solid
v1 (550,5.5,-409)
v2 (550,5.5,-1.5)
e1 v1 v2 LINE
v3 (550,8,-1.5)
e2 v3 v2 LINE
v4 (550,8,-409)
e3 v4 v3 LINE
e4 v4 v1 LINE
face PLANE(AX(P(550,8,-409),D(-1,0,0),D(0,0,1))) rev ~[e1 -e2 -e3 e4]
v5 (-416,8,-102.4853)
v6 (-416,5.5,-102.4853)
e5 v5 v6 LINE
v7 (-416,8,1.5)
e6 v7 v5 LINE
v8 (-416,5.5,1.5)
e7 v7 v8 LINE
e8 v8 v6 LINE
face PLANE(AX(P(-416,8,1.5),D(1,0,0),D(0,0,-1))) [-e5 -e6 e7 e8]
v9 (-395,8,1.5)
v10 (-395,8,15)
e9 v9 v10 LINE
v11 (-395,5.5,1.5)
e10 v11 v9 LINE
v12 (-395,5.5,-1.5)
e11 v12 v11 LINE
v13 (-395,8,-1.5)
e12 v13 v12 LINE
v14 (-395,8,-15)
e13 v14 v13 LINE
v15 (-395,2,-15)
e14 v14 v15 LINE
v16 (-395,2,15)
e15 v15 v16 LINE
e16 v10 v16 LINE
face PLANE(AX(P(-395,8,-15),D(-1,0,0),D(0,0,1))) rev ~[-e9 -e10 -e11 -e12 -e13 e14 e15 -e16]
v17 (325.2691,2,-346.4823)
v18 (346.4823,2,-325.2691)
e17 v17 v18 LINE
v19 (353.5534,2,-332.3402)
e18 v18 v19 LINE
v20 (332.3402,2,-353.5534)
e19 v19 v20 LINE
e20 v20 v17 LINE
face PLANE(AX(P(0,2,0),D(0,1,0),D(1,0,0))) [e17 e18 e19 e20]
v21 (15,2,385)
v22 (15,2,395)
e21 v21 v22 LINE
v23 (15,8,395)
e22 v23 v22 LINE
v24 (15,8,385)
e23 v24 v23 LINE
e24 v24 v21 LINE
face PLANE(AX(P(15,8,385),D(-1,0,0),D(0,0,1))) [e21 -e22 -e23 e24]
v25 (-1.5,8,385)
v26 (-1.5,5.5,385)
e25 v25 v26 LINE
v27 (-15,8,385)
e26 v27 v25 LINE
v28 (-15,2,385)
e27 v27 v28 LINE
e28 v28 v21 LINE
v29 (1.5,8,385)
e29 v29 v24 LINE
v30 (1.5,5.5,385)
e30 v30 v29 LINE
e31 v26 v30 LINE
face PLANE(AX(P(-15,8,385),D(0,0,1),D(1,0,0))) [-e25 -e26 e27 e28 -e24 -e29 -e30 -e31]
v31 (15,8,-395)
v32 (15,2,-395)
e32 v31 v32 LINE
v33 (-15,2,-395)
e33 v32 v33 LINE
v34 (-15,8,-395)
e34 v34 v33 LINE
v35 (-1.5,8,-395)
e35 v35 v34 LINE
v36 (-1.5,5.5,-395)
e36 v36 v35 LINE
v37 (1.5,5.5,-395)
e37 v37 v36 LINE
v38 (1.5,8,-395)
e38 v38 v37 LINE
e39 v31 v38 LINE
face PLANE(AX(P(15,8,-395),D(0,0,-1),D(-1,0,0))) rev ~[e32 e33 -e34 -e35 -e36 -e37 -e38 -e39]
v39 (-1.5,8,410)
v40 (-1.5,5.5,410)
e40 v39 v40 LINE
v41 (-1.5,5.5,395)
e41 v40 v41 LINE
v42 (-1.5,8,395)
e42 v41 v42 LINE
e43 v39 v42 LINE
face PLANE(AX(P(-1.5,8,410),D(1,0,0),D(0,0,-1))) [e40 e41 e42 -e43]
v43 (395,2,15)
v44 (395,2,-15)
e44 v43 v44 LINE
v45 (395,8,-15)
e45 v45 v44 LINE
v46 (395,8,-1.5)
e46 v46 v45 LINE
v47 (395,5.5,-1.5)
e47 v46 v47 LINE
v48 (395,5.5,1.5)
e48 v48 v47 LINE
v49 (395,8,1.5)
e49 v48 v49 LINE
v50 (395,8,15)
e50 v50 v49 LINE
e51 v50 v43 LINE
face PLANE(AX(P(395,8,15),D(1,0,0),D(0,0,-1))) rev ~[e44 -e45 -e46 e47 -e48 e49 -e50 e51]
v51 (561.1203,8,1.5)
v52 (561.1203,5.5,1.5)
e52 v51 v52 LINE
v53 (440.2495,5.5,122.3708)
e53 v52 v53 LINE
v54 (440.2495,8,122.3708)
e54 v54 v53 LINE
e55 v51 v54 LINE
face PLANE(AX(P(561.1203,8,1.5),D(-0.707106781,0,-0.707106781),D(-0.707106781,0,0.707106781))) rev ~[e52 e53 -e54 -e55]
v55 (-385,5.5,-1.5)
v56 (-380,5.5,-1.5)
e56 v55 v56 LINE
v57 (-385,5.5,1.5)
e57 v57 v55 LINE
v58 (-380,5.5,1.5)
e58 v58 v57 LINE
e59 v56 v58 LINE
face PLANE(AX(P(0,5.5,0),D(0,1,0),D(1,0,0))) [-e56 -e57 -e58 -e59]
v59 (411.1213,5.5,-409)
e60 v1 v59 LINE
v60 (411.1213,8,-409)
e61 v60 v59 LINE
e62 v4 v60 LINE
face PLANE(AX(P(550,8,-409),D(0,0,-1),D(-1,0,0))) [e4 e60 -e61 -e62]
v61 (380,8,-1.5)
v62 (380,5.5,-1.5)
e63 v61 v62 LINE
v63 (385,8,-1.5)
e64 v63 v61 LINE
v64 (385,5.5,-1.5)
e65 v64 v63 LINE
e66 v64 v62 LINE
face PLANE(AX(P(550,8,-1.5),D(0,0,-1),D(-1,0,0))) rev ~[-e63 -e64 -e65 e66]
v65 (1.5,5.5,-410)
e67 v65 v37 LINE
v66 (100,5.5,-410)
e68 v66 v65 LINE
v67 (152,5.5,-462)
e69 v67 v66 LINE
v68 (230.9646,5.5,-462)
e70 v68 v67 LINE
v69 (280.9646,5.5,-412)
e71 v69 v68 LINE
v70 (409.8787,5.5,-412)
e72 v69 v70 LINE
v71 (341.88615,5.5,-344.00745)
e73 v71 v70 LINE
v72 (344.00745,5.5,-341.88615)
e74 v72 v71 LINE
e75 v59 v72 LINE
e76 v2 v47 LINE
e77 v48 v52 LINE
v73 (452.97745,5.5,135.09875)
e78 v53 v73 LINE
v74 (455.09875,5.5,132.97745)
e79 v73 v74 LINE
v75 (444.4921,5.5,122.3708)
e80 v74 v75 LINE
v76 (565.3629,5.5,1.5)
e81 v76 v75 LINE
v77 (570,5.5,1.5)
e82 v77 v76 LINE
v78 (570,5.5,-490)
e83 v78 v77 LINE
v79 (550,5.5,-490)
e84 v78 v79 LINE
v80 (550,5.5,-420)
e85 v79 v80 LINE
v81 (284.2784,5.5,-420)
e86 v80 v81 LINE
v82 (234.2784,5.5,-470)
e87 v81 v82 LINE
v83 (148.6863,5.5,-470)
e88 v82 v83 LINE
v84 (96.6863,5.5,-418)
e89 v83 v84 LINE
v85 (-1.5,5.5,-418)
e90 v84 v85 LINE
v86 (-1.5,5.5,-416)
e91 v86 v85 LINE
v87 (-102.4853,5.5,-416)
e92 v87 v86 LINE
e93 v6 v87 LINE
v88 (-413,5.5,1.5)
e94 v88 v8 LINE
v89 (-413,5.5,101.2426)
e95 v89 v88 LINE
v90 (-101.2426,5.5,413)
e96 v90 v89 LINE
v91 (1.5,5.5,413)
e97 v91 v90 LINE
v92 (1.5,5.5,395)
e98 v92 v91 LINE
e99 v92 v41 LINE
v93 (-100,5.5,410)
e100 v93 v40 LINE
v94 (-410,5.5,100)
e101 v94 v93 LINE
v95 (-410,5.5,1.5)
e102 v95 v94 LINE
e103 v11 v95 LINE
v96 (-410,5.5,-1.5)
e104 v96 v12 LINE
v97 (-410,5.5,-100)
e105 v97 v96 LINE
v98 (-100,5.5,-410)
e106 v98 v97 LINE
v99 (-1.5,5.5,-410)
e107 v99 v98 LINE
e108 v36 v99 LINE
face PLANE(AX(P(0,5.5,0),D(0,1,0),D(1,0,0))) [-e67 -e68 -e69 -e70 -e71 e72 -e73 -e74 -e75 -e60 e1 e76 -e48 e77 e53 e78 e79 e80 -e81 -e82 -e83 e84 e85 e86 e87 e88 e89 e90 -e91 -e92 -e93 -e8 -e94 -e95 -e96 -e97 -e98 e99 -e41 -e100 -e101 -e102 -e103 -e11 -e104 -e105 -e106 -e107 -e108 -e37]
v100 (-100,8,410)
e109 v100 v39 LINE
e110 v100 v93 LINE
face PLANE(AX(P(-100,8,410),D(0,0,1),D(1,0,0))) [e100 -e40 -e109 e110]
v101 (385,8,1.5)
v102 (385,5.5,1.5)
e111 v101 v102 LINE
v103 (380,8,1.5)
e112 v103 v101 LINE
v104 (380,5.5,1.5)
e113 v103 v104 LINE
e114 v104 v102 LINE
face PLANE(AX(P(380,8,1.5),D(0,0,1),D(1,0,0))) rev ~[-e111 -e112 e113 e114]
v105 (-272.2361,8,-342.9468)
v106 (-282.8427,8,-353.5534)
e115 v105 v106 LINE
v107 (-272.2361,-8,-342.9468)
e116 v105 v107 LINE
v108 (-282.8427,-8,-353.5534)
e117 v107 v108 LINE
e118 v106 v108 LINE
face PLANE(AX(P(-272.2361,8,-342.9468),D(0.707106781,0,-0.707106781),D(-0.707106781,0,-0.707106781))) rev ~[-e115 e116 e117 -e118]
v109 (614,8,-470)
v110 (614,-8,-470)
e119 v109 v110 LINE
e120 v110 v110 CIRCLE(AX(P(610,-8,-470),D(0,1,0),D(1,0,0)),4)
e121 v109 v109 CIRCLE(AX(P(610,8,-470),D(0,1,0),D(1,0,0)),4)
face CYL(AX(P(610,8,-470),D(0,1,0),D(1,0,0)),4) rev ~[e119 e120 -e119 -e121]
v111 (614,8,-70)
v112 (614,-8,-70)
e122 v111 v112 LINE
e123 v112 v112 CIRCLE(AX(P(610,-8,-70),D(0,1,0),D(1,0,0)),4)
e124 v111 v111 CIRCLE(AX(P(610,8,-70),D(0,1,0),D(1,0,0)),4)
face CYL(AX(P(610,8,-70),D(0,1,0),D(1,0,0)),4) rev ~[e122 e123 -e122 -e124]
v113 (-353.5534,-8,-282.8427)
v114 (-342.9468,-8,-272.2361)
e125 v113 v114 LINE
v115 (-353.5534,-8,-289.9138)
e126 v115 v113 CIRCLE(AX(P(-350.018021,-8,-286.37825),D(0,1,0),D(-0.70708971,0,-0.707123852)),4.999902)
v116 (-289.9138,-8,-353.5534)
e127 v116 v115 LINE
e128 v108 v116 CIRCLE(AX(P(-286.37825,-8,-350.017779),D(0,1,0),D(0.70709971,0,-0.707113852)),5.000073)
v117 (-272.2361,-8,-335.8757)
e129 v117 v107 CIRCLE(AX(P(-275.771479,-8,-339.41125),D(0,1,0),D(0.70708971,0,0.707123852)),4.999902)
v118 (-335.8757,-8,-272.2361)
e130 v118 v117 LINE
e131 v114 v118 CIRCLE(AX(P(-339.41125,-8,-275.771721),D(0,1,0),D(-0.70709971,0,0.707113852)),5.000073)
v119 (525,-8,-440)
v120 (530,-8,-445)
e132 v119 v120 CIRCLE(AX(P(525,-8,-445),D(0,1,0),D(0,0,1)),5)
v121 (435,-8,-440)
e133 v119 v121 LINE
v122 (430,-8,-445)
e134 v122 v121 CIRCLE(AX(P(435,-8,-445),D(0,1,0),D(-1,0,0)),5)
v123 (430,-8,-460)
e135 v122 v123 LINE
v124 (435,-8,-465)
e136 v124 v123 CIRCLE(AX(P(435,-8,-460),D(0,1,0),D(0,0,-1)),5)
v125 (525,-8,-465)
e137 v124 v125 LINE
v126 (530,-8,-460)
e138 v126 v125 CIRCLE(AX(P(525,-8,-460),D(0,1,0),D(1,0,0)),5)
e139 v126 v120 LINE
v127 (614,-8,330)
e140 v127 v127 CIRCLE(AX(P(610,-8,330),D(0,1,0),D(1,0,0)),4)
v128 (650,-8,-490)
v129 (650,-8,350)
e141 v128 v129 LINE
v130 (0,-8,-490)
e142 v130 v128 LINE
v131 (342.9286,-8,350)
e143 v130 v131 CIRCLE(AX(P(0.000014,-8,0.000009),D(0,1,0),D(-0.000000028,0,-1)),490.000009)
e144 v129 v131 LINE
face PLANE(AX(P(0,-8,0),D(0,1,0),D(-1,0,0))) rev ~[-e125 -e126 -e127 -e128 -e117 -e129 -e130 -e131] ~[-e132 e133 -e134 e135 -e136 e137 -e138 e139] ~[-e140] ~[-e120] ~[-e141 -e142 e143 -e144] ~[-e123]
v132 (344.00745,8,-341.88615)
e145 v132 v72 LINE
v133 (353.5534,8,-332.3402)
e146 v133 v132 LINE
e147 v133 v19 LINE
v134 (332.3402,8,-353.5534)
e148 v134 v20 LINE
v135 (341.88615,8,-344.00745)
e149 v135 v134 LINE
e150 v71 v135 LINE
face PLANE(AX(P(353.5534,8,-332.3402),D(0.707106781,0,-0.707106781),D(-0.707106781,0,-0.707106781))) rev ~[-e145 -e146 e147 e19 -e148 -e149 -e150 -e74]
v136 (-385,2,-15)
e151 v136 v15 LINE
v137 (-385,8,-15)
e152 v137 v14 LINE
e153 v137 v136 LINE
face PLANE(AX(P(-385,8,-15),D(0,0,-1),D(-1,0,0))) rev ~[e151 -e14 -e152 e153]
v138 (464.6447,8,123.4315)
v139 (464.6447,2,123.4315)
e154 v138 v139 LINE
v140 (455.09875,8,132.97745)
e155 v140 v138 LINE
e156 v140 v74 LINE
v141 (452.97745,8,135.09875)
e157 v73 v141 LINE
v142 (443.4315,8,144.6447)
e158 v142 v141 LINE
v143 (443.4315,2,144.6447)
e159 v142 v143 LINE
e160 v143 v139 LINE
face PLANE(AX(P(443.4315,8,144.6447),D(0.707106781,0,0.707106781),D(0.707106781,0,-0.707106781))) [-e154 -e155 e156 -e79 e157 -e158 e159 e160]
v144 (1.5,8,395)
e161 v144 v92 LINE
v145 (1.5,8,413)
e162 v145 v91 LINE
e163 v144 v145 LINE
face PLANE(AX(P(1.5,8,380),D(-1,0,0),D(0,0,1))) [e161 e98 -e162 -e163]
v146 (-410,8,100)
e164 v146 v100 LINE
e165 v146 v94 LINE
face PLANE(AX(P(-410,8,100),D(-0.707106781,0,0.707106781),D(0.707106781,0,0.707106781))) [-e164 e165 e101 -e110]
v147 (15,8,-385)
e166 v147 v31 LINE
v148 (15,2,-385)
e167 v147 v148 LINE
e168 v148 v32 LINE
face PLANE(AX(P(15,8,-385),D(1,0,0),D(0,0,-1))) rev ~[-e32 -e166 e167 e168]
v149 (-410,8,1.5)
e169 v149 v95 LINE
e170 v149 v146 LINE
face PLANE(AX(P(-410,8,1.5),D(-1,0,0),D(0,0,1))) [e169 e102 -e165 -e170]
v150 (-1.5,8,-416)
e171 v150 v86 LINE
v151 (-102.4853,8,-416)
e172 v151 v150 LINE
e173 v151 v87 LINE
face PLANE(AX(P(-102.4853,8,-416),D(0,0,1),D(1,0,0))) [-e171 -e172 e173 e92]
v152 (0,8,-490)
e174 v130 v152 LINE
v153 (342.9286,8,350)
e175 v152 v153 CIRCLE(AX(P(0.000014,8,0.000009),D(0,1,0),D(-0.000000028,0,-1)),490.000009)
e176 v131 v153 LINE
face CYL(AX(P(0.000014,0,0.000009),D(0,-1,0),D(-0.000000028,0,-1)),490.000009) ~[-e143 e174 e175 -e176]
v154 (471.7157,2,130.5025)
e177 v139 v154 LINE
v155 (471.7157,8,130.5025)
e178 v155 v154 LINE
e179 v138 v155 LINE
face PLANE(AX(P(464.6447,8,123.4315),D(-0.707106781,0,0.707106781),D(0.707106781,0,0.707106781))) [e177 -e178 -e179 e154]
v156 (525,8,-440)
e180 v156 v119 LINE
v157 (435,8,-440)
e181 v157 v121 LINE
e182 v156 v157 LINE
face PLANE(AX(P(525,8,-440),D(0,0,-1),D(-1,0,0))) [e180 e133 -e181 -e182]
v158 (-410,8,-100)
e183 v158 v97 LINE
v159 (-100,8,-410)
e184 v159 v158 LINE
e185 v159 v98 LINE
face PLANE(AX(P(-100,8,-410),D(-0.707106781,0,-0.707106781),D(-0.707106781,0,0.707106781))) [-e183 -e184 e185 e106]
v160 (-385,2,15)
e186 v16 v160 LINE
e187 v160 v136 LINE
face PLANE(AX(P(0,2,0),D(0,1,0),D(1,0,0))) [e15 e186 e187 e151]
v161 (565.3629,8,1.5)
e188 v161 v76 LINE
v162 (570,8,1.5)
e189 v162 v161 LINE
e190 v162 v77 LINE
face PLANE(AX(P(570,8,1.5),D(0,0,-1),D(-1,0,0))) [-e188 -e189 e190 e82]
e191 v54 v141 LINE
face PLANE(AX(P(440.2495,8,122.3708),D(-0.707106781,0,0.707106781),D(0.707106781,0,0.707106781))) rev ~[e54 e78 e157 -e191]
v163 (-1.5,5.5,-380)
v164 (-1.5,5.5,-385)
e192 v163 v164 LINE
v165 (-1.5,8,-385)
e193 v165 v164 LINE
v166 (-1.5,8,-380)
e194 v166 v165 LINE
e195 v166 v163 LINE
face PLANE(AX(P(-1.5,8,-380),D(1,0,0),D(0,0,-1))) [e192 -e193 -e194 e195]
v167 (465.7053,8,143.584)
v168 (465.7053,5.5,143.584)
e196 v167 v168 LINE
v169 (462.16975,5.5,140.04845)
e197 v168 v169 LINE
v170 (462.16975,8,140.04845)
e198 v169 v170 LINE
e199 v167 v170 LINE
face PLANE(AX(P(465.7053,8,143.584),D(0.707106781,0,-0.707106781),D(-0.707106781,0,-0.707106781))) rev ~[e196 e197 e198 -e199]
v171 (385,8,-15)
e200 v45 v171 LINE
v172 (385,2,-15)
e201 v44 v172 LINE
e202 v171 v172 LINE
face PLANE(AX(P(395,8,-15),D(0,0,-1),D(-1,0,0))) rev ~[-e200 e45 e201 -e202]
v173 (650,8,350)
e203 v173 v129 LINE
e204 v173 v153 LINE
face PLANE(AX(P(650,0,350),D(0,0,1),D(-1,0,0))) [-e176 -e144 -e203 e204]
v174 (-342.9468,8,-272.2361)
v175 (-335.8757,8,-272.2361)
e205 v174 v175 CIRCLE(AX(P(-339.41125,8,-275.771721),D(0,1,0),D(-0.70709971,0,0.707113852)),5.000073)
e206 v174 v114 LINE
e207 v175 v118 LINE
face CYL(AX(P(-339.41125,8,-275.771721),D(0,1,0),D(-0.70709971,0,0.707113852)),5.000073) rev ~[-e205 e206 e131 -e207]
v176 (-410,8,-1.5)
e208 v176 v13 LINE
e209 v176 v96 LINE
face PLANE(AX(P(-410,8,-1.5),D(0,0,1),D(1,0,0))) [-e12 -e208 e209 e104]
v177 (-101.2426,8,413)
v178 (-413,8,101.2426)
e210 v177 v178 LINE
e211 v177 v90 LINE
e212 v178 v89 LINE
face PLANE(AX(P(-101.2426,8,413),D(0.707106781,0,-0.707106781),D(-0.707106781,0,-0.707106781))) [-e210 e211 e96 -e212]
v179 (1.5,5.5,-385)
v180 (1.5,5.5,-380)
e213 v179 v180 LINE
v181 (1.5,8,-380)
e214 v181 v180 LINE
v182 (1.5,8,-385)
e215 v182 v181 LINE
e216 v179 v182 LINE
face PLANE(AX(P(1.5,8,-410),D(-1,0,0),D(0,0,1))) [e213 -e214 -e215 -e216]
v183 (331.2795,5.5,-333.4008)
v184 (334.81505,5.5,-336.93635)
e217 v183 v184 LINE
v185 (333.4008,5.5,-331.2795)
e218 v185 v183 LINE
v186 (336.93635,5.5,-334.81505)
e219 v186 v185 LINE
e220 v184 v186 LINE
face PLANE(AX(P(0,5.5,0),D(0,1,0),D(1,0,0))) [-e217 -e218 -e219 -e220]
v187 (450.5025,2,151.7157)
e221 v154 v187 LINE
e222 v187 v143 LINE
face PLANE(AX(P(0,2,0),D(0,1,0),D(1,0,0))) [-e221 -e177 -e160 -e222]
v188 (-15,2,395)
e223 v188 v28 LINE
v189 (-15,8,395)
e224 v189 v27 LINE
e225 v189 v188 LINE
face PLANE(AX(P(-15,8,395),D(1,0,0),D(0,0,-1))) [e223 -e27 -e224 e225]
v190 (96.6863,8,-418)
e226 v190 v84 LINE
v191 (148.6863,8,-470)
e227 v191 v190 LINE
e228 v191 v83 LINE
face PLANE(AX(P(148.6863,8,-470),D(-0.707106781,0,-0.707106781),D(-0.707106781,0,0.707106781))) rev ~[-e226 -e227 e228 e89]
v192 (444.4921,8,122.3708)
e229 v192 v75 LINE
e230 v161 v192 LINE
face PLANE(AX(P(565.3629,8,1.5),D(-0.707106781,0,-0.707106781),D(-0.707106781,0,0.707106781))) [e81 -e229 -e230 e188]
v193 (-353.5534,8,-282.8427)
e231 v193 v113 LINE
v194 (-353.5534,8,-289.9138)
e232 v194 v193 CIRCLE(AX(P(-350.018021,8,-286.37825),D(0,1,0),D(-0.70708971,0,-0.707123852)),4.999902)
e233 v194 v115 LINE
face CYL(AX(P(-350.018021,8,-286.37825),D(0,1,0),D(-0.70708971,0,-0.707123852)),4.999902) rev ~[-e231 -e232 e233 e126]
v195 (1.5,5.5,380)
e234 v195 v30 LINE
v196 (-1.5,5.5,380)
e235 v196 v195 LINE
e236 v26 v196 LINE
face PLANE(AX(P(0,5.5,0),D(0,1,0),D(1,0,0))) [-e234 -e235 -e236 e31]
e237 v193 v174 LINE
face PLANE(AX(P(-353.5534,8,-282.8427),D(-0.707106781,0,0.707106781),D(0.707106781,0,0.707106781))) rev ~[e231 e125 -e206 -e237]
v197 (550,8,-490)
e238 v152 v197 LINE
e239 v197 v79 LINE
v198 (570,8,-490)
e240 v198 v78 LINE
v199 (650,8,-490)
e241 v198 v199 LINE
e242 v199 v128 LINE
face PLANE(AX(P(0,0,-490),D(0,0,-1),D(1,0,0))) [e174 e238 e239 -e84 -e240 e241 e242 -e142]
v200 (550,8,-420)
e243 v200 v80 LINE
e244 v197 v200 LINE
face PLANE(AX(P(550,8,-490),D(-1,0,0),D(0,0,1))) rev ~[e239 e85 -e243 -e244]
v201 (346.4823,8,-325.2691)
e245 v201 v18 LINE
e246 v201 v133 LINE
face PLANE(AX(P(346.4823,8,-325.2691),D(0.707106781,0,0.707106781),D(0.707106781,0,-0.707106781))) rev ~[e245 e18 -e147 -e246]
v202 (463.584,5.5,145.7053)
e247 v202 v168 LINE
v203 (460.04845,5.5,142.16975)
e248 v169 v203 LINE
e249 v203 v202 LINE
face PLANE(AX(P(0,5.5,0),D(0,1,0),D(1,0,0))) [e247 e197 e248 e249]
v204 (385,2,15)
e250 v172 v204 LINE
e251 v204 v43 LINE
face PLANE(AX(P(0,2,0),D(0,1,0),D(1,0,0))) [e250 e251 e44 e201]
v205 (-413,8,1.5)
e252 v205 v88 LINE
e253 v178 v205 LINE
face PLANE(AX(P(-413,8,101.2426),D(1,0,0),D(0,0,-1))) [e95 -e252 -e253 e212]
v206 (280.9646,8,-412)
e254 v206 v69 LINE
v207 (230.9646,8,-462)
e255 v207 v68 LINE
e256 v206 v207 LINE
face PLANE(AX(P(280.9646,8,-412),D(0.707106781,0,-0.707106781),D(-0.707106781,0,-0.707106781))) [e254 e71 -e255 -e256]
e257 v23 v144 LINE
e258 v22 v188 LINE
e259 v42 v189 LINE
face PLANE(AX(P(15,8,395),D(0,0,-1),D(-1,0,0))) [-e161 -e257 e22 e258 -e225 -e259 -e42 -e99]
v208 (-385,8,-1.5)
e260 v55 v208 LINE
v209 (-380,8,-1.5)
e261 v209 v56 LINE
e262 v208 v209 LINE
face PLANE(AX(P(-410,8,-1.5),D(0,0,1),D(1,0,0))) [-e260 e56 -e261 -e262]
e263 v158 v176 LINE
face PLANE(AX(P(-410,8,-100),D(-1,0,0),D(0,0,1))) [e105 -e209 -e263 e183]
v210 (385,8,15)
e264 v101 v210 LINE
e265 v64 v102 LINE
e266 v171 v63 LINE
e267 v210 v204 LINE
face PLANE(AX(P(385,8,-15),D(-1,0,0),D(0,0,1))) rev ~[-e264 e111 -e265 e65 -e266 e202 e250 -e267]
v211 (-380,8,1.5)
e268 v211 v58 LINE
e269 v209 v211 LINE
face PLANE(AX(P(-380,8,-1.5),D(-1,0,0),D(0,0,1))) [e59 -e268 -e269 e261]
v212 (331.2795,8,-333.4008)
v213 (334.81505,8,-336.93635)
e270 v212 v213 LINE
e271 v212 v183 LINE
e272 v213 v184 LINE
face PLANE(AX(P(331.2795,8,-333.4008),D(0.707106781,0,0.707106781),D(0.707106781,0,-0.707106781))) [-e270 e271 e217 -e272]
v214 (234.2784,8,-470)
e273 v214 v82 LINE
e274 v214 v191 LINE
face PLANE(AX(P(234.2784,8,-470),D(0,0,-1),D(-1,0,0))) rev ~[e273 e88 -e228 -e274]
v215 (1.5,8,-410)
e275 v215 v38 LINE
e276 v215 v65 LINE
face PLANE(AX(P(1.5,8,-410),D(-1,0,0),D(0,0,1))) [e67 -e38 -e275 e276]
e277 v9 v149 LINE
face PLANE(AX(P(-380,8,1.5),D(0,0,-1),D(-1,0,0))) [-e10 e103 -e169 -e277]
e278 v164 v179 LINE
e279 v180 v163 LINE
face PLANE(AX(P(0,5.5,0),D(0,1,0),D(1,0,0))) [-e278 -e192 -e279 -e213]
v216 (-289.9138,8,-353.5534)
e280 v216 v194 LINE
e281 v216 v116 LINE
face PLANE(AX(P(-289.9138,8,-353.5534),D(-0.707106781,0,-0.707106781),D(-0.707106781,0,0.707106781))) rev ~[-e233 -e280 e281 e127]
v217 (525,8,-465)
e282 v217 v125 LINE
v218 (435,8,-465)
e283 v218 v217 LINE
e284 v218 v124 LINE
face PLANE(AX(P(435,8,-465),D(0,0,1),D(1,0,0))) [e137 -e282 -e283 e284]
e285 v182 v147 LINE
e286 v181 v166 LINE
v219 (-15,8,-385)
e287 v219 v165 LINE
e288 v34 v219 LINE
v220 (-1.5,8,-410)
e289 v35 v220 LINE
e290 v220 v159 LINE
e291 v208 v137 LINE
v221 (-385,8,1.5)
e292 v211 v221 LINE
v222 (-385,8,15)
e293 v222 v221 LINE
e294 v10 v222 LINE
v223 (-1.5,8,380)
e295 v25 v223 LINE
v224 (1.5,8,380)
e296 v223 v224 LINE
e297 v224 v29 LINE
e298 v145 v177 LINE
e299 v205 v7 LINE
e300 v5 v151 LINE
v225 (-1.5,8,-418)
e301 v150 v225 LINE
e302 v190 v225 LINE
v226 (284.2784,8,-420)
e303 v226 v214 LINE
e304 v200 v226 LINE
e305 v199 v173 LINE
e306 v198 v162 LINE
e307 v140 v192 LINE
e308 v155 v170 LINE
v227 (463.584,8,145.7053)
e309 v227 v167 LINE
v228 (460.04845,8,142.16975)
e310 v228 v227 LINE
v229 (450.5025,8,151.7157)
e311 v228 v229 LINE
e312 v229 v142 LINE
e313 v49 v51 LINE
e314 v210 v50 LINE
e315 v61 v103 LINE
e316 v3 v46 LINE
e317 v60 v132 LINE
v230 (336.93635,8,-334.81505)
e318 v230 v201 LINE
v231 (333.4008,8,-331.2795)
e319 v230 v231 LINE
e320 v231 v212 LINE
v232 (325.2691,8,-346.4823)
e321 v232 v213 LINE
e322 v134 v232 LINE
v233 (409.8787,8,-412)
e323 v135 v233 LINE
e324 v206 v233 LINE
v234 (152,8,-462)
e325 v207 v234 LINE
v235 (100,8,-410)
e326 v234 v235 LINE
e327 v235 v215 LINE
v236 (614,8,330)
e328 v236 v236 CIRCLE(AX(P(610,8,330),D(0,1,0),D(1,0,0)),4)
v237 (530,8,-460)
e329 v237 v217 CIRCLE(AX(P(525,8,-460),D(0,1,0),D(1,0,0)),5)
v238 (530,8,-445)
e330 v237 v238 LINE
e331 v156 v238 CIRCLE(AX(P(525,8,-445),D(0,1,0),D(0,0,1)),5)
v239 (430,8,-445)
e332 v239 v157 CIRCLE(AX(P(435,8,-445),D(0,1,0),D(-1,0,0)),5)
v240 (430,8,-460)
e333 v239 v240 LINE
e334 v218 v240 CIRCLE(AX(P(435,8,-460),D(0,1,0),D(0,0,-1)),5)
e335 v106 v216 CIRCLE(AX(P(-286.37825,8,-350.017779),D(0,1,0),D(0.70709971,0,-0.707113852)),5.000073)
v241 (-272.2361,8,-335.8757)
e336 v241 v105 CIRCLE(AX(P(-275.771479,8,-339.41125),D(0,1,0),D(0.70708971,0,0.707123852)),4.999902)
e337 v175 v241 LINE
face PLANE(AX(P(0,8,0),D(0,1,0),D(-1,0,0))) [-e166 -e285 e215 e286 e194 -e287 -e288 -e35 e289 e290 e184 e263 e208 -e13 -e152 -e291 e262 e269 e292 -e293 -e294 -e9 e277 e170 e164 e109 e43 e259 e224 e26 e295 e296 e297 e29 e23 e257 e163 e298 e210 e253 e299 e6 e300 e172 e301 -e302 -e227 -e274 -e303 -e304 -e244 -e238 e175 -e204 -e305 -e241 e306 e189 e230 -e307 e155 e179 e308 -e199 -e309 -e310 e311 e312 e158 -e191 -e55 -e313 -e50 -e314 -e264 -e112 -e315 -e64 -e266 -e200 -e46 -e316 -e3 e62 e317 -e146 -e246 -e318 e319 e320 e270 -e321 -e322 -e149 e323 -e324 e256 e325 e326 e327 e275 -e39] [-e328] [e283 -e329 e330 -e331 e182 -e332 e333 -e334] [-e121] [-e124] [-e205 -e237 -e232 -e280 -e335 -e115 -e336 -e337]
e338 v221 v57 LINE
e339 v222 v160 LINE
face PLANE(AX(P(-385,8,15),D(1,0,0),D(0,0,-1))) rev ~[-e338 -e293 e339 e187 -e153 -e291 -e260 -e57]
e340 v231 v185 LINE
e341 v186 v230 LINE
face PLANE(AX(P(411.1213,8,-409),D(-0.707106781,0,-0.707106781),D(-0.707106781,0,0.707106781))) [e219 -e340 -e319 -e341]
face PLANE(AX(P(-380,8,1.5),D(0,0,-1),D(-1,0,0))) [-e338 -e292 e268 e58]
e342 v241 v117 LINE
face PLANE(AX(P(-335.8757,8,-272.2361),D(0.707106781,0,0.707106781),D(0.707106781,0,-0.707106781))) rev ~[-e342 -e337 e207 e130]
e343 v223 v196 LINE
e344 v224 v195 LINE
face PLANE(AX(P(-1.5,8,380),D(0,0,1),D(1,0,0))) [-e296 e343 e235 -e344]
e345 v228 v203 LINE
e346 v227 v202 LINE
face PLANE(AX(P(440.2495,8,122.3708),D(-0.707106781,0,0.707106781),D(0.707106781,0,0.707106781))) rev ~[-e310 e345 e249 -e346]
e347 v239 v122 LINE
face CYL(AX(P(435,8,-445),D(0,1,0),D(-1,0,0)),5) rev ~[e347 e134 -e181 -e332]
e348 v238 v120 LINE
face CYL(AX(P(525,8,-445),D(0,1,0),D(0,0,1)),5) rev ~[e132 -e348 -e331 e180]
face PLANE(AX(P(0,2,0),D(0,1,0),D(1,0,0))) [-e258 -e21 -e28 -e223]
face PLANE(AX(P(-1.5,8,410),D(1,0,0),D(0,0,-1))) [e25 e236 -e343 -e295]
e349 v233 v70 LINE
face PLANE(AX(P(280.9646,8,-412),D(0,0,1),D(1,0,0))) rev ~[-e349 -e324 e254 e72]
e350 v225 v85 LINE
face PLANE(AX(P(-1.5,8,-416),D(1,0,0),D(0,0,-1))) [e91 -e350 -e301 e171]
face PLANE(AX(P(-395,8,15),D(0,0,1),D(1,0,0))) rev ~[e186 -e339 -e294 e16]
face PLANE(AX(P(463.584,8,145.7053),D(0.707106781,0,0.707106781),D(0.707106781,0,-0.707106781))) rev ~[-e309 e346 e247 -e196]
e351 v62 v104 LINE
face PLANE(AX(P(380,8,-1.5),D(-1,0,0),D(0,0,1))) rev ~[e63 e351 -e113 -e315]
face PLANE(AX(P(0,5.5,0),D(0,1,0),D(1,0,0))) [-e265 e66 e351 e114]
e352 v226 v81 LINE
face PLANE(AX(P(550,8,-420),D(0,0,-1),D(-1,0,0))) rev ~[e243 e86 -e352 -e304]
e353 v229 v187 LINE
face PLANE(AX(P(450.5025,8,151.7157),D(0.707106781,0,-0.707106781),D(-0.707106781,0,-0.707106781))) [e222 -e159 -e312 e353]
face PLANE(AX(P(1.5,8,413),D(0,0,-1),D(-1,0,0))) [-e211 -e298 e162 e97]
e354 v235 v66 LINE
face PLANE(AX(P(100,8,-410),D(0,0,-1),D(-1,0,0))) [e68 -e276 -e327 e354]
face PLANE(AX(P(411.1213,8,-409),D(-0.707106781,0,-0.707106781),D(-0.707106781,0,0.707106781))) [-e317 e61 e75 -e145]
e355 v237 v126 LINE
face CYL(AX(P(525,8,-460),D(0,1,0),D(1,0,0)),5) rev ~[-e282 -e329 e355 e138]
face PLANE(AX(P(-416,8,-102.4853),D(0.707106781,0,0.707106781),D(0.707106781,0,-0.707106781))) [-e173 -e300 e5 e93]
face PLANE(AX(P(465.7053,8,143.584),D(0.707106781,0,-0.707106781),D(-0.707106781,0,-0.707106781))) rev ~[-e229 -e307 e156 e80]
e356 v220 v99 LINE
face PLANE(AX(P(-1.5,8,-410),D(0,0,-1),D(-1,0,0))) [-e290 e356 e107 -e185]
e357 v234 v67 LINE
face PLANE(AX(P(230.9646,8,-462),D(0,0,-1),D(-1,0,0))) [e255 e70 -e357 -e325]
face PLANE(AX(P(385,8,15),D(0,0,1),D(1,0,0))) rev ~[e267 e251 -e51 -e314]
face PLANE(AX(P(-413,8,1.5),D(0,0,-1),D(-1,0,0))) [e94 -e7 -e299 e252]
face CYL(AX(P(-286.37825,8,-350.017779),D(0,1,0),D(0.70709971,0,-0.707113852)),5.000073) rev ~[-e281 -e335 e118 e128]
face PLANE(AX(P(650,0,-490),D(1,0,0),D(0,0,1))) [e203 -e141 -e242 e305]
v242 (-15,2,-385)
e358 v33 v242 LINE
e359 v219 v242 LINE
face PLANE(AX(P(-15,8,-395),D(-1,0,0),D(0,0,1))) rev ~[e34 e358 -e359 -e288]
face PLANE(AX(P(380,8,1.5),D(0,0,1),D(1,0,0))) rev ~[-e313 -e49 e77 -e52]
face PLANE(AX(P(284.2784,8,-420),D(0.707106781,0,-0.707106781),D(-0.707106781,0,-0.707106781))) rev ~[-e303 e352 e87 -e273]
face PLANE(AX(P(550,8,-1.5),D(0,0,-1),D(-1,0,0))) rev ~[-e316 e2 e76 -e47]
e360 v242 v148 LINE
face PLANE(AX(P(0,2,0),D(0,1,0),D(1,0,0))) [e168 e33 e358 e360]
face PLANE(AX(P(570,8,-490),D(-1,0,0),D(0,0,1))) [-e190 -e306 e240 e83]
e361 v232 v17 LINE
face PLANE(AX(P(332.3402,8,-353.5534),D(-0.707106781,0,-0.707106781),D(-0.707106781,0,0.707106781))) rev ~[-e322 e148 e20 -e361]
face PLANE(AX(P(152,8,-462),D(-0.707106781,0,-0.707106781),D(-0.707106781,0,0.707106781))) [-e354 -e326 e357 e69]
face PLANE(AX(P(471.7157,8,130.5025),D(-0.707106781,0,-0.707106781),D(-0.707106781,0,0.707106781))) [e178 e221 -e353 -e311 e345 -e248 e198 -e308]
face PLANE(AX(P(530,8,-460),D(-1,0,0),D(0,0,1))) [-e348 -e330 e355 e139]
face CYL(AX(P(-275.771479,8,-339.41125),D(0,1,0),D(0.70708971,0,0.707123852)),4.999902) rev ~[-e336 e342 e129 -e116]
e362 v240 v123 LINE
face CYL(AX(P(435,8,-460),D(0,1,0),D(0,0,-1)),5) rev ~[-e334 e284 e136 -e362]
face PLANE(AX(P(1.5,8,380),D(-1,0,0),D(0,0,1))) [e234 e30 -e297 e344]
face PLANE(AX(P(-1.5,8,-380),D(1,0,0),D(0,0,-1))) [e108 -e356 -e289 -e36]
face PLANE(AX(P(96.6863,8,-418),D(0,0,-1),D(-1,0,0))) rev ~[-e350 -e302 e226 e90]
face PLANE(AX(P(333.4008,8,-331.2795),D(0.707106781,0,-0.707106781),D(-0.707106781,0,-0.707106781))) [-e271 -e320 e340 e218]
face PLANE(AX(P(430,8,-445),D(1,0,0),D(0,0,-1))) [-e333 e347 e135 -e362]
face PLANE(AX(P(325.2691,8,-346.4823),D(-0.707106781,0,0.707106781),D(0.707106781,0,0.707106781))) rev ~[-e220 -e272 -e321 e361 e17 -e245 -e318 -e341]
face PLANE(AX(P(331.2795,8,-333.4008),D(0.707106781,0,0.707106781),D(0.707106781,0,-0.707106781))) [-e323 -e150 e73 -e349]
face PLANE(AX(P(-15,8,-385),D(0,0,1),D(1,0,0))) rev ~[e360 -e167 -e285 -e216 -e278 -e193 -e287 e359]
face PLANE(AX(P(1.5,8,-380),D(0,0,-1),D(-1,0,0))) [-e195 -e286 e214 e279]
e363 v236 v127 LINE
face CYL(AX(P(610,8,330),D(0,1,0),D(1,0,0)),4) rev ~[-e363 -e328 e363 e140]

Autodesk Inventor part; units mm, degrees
ref_plane "YZ Plane" through (0, 0, 0) normal (1, 0, 0) x (0, 1, 0)
ref_plane "XZ Plane" through (0, 0, 0) normal (0, 1, 0) x (-1, 0, 0)
ref_plane "XY Plane" through (0, 0, 0) normal (0, 0, 1) x (1, 0, 0)
sketch "Sketch1" plane through (0, 0, 0) normal (0, 1, 0) x (-1, 0, 0)
  arc A0 (0, -490) -> (-342.9286, 350) centre (0, 0) ccw
  line L0 (0, -490) -> (-650, -490)
  line L1 (-650, -490) -> (-650, 350)
  line L2 (-650, 350) -> (-342.9286, 350)
  dimension "d1" = 980
  dimension "d2" = 350
  dimension "d3" = 650
extrude "Extrusion1" add sketch "Sketch1" along normal mid plane 16
sketch "Sketch2" plane through (0, 8, 0) normal (0, 1, 0) x (1, 0, 0)
  arc A0 (0, 490) -> (342.9286, -350) centre (0, 0) ccw projected
  line L0 (650, -350) -> (650, 490) projected
  line L1 (650, 490) -> (0, 490) projected
  line L2 (435, 465) -> (525, 465)
  line L3 (530, 460) -> (530, 445)
  line L4 (525, 440) -> (435, 440)
  line L5 (430, 445) -> (430, 460)
  arc A1 (435, 465) -> (430, 460) centre (435, 460) ccw
  arc A2 (430, 445) -> (435, 440) centre (435, 445) ccw
  arc A3 (525, 440) -> (530, 445) centre (525, 445) ccw
  arc A4 (530, 460) -> (525, 465) centre (525, 460) ccw
  line L6 (0, 0) -> (-346.4823, 346.4823) construction
  line L7 (-289.9138, 353.5534) -> (-353.5534, 289.9138)
  line L8 (-353.5534, 282.8427) -> (-342.9468, 272.2361)
  line L9 (-335.8757, 272.2361) -> (-272.2361, 335.8757)
  line L10 (-272.2361, 342.9468) -> (-282.8427, 353.5534)
  arc A5 (-353.5534, 289.9138) -> (-353.5534, 282.8427) centre (-350.0179, 286.3782) ccw
  arc A6 (-342.9468, 272.2361) -> (-335.8757, 272.2361) centre (-339.4113, 275.7716) ccw
  arc A7 (-272.2361, 335.8757) -> (-272.2361, 342.9468) centre (-275.7716, 339.4113) ccw
  arc A8 (-282.8427, 353.5534) -> (-289.9138, 353.5534) centre (-286.3782, 350.0179) ccw
  point P0 (430, 465)
  point P1 (530, 465)
  point P2 (430, 440)
  dimension "d6" = 100
  dimension "d7" = 25
  dimension "d8" = 25
  dimension "d9" = 120
  dimension "d10" = 5
  dimension "d11" = 45
  dimension "d15" = 25
  dimension "d16" = 100
  dimension "d17" = 430
  dimension "d18" = 90
  dimension "d19" = 5
extrude "Extrusion2" cut sketch "Sketch2" against normal through all
sketch "Sketch3" plane through (0, 8, 0) normal (0, 1, 0) x (1, 0, 0)
  circle A0 centre (610, 470) radius 4
  circle A1 centre (610, -330) radius 4
  circle A2 centre (610, 70) radius 4
  circle A3 centre (610, 470) radius 2.75 projected
  circle A4 centre (610, 70) radius 2.75 projected
  circle A5 centre (610, -330) radius 2.75 projected
  dimension "d22" = 8
extrude "Extrusion3" cut sketch "Sketch3" against normal through all contours A0 | A1 | A2 | A3 | A4 | A5
ref_plane "Work Plane1" through (0, 0, 0) normal (-0.7071, 0, -0.7071) x (-0.7071, 0, 0.7071)
ref_plane "Work Plane2" through (500, 8, 350) normal (1, 0, 0) x (0, 0, -1)
ref_plane "Work Plane3" through (342.9286, 8, 180) normal (0, 0, 1) x (1, 0, 0)
sketch "Sketch5" plane through (0, 8, 0) normal (0, 1, 0) x (1, 0, 0)
  line L0 (530, 460) -> (530, 445) projected
  line L1 (525, 440) -> (435, 440) projected
  line L2 (-272.2361, 335.8757) -> (-335.8757, 272.2361) projected
  line L3 (650, 490) -> (0, 490) projected
  line L4 (570, 490) -> (570, -1.5)
  line L5 (570, -1.5) -> (565.3629, -1.5)
  line L6 (565.3629, -1.5) -> (444.4921, -122.3708)
  line L7 (75, 355) -> (-75, 355) construction
  line L8 (-75, 355) -> (-75, 205) construction
  line L9 (-75, 205) -> (75, 205) construction
  line L10 (75, 205) -> (75, 355) construction
  line L11 (197.9899, 304.0559) -> (304.0559, 197.9899) construction
  arc A0 (304.0559, 197.9899) -> (367.6955, 261.6295) centre (335.8757, 229.8097) ccw construction
  line L12 (367.6955, 261.6295) -> (261.6295, 367.6955) construction
  arc A1 (261.6295, 367.6955) -> (197.9899, 304.0559) centre (229.8097, 335.8757) ccw construction
  line L13 (-355, 75) -> (-355, -75) construction
  line L14 (-355, -75) -> (-205, -75) construction
  line L15 (-205, -75) -> (-205, 75) construction
  line L16 (-205, 75) -> (-355, 75) construction
  line L17 (355, -75) -> (355, 75) construction
  line L18 (355, 75) -> (205, 75) construction
  line L19 (205, 75) -> (205, -75) construction
  line L20 (205, -75) -> (355, -75) construction
  line L21 (-75, -355) -> (75, -355) construction
  line L22 (75, -355) -> (75, -205) construction
  line L23 (75, -205) -> (-75, -205) construction
  line L24 (-75, -205) -> (-75, -355) construction
  line L25 (485.8579, -229.4975) -> (549.4975, -165.8579) construction
  arc A2 (549.4975, -165.8579) -> (514.1421, -130.5025) centre (531.8198, -148.1802) ccw construction
  line L26 (514.1421, -130.5025) -> (450.5025, -194.1421) construction
  arc A3 (450.5025, -194.1421) -> (485.8579, -229.4975) centre (468.1802, -211.8198) ccw construction
  line L27 (205, 0) -> (355, 0) construction
  line L28 (0, 355) -> (0, 205) construction
  line L29 (251.0229, 251.0229) -> (314.6625, 314.6625) construction
  line L30 (-355, 0) -> (-205, 0) construction
  line L31 (0, -205) -> (0, -355) construction
  line L32 (482.3223, -162.3223) -> (517.6777, -197.6777) construction
  line L33 (550, 490) -> (550, 420)
  line L34 (550, 420) -> (284.2784, 420)
  line L35 (284.2784, 420) -> (234.2784, 470)
  line L36 (234.2784, 470) -> (148.6863, 470)
  line L37 (148.6863, 470) -> (96.6863, 418)
  line L38 (96.6863, 418) -> (-1.5, 418)
  line L39 (550, 409) -> (411.1213, 409)
  line L40 (411.1213, 409) -> (333.4008, 331.2795)
  line L41 (333.4008, 331.2795) -> (331.2795, 333.4008)
  line L42 (331.2795, 333.4008) -> (409.8787, 412)
  line L43 (280.9646, 412) -> (230.9646, 462)
  line L44 (230.9646, 462) -> (152, 462)
  line L45 (152, 462) -> (100, 410)
  line L46 (550, 409) -> (550, 1.5)
  line L47 (550, 1.5) -> (380, 1.5)
  line L48 (380, 1.5) -> (380, -1.5)
  line L49 (380, -1.5) -> (561.1203, -1.5)
  line L50 (561.1203, -1.5) -> (440.2495, -122.3708)
  line L51 (440.2495, -122.3708) -> (463.584, -145.7053)
  line L52 (463.584, -145.7053) -> (465.7053, -143.584)
  line L53 (465.7053, -143.584) -> (444.4921, -122.3708)
  line L54 (280.9646, 412) -> (409.8787, 412)
  line L55 (100, 410) -> (1.5, 410)
  line L56 (1.5, 410) -> (1.5, 380)
  line L57 (1.5, 380) -> (-1.5, 380)
  line L58 (-1.5, 380) -> (-1.5, 410)
  line L59 (-1.5, 410) -> (-100, 410)
  line L60 (-100, 410) -> (-410, 100)
  line L61 (-410, 100) -> (-410, 1.5)
  line L62 (-410, 1.5) -> (-380, 1.5)
  line L63 (-380, 1.5) -> (-380, -1.5)
  line L64 (-380, -1.5) -> (-410, -1.5)
  line L65 (-410, -1.5) -> (-410, -100)
  line L66 (-410, -100) -> (-100, -410)
  line L67 (-100, -410) -> (-1.5, -410)
  line L68 (-1.5, -410) -> (-1.5, -380)
  line L69 (-1.5, -380) -> (1.5, -380)
  line L70 (1.5, -380) -> (1.5, -413)
  line L71 (1.5, -413) -> (-101.2426, -413)
  line L72 (-101.2426, -413) -> (-413, -101.2426)
  line L73 (-413, -101.2426) -> (-413, -1.5)
  line L74 (-413, -1.5) -> (-416, -1.5)
  line L75 (-416, -1.5) -> (-416, 102.4853)
  line L76 (-416, 102.4853) -> (-102.4853, 416)
  line L77 (-102.4853, 416) -> (-1.5, 416)
  line L78 (-1.5, 416) -> (-1.5, 418)
  line L79 (550, 490) -> (570, 490)
  dimension "d33" = 25
  dimension "d34" = 3
  dimension "d35" = 3
  dimension "d36" = 3
  dimension "d37" = 55
  dimension "d38" = 25
  dimension "d39" = 20
  dimension "d40" = 20
  dimension "d41" = 20
  dimension "d42" = 11
  dimension "d43" = 3
  dimension "d44" = 25
  dimension "d45" = 45
  dimension "d46" = 8
  dimension "d47" = 8
  dimension "d48" = 20
  dimension "d49" = 8
  dimension "d50" = 25
  dimension "d51" = 3
  dimension "d52" = 55
  dimension "d53" = 6
  dimension "d54" = 8
  dimension "d55" = 8
  dimension "d56" = 25
  dimension "d57" = 6
  dimension "d58" = 25
  dimension "d59" = 3
  dimension "d60" = 55
  dimension "d61" = 6
  dimension "d62" = 25
  dimension "d63" = 3
  dimension "d64" = 3
  dimension "d65" = 25
  dimension "d66" = 3
  dimension "d67" = 25
  dimension "d68" = 3
  dimension "d69" = 55
extrude "Extrusion5" cut sketch "Sketch5" against normal blind 2.5
sketch "Sketch6" plane through (0, 8, 0) normal (0, 1, 0) x (1, 0, 0)
  line L0 (75, 355) -> (-75, 355) construction
  line L1 (-75, 355) -> (-75, 205) construction
  line L2 (-75, 205) -> (75, 205) construction
  line L3 (75, 205) -> (75, 355) construction
  line L4 (-355, 75) -> (-355, -75) construction
  line L5 (-355, -75) -> (-205, -75) construction
  line L6 (-205, -75) -> (-205, 75) construction
  line L7 (-205, 75) -> (-355, 75) construction
  line L8 (355, -75) -> (355, 75) construction
  line L9 (355, 75) -> (205, 75) construction
  line L10 (205, 75) -> (205, -75) construction
  line L11 (205, -75) -> (355, -75) construction
  line L12 (197.9899, 304.0559) -> (304.0559, 197.9899) construction
  arc A0 (304.0559, 197.9899) -> (367.6955, 261.6295) centre (335.8757, 229.8097) ccw construction
  line L13 (367.6955, 261.6295) -> (261.6295, 367.6955) construction
  arc A1 (261.6295, 367.6955) -> (197.9899, 304.0559) centre (229.8097, 335.8757) ccw construction
  line L14 (-75, -355) -> (75, -355) construction
  line L15 (75, -355) -> (75, -205) construction
  line L16 (75, -205) -> (-75, -205) construction
  line L17 (-75, -205) -> (-75, -355) construction
  line L18 (485.8579, -229.4975) -> (549.4975, -165.8579) construction
  arc A2 (549.4975, -165.8579) -> (514.1421, -130.5025) centre (531.8198, -148.1802) ccw construction
  line L19 (514.1421, -130.5025) -> (450.5025, -194.1421) construction
  arc A3 (450.5025, -194.1421) -> (485.8579, -229.4975) centre (468.1802, -211.8198) ccw construction
  line L20 (0, 355) -> (0, 205) construction
  line L21 (-355, 0) -> (-205, 0) construction
  line L22 (314.6625, 314.6625) -> (251.0229, 251.0229) construction
  line L23 (482.3223, -162.3223) -> (517.6777, -197.6777) construction
  line L24 (464.6447, -123.4315) -> (471.7157, -130.5025)
  line L25 (471.7157, -130.5025) -> (450.5025, -151.7157)
  line L26 (450.5025, -151.7157) -> (443.4315, -144.6447)
  line L27 (443.4315, -144.6447) -> (464.6447, -123.4315)
  line L28 (325.2691, 346.4823) -> (346.4823, 325.2691)
  line L29 (346.4823, 325.2691) -> (353.5534, 332.3402)
  line L30 (353.5534, 332.3402) -> (332.3402, 353.5534)
  line L31 (332.3402, 353.5534) -> (325.2691, 346.4823)
  line L32 (-15, 385) -> (15, 385)
  line L33 (15, 385) -> (15, 395)
  line L34 (15, 395) -> (-15, 395)
  line L35 (-15, 395) -> (-15, 385)
  line L36 (-395, 15) -> (-395, -15)
  line L37 (-395, -15) -> (-385, -15)
  line L38 (-385, -15) -> (-385, 15)
  line L39 (-385, 15) -> (-395, 15)
  line L40 (385, 15) -> (385, -15)
  line L41 (385, -15) -> (395, -15)
  line L42 (395, -15) -> (395, 15)
  line L43 (395, 15) -> (385, 15)
  line L44 (-15, -385) -> (15, -385)
  line L45 (15, -385) -> (15, -395)
  line L46 (15, -395) -> (-15, -395)
  line L47 (-15, -395) -> (-15, -385)
  dimension "d72" = 30
  dimension "d73" = 30
  dimension "d74" = 30
  dimension "d75" = 30
  dimension "d76" = 30
  dimension "d77" = 30
  dimension "d78" = 30
  dimension "d79" = 10
extrude "Extrusion6" cut sketch "Sketch6" against normal blind 6
properties part number "Base_Left" material "MDF Medium Density Fiberboard"
